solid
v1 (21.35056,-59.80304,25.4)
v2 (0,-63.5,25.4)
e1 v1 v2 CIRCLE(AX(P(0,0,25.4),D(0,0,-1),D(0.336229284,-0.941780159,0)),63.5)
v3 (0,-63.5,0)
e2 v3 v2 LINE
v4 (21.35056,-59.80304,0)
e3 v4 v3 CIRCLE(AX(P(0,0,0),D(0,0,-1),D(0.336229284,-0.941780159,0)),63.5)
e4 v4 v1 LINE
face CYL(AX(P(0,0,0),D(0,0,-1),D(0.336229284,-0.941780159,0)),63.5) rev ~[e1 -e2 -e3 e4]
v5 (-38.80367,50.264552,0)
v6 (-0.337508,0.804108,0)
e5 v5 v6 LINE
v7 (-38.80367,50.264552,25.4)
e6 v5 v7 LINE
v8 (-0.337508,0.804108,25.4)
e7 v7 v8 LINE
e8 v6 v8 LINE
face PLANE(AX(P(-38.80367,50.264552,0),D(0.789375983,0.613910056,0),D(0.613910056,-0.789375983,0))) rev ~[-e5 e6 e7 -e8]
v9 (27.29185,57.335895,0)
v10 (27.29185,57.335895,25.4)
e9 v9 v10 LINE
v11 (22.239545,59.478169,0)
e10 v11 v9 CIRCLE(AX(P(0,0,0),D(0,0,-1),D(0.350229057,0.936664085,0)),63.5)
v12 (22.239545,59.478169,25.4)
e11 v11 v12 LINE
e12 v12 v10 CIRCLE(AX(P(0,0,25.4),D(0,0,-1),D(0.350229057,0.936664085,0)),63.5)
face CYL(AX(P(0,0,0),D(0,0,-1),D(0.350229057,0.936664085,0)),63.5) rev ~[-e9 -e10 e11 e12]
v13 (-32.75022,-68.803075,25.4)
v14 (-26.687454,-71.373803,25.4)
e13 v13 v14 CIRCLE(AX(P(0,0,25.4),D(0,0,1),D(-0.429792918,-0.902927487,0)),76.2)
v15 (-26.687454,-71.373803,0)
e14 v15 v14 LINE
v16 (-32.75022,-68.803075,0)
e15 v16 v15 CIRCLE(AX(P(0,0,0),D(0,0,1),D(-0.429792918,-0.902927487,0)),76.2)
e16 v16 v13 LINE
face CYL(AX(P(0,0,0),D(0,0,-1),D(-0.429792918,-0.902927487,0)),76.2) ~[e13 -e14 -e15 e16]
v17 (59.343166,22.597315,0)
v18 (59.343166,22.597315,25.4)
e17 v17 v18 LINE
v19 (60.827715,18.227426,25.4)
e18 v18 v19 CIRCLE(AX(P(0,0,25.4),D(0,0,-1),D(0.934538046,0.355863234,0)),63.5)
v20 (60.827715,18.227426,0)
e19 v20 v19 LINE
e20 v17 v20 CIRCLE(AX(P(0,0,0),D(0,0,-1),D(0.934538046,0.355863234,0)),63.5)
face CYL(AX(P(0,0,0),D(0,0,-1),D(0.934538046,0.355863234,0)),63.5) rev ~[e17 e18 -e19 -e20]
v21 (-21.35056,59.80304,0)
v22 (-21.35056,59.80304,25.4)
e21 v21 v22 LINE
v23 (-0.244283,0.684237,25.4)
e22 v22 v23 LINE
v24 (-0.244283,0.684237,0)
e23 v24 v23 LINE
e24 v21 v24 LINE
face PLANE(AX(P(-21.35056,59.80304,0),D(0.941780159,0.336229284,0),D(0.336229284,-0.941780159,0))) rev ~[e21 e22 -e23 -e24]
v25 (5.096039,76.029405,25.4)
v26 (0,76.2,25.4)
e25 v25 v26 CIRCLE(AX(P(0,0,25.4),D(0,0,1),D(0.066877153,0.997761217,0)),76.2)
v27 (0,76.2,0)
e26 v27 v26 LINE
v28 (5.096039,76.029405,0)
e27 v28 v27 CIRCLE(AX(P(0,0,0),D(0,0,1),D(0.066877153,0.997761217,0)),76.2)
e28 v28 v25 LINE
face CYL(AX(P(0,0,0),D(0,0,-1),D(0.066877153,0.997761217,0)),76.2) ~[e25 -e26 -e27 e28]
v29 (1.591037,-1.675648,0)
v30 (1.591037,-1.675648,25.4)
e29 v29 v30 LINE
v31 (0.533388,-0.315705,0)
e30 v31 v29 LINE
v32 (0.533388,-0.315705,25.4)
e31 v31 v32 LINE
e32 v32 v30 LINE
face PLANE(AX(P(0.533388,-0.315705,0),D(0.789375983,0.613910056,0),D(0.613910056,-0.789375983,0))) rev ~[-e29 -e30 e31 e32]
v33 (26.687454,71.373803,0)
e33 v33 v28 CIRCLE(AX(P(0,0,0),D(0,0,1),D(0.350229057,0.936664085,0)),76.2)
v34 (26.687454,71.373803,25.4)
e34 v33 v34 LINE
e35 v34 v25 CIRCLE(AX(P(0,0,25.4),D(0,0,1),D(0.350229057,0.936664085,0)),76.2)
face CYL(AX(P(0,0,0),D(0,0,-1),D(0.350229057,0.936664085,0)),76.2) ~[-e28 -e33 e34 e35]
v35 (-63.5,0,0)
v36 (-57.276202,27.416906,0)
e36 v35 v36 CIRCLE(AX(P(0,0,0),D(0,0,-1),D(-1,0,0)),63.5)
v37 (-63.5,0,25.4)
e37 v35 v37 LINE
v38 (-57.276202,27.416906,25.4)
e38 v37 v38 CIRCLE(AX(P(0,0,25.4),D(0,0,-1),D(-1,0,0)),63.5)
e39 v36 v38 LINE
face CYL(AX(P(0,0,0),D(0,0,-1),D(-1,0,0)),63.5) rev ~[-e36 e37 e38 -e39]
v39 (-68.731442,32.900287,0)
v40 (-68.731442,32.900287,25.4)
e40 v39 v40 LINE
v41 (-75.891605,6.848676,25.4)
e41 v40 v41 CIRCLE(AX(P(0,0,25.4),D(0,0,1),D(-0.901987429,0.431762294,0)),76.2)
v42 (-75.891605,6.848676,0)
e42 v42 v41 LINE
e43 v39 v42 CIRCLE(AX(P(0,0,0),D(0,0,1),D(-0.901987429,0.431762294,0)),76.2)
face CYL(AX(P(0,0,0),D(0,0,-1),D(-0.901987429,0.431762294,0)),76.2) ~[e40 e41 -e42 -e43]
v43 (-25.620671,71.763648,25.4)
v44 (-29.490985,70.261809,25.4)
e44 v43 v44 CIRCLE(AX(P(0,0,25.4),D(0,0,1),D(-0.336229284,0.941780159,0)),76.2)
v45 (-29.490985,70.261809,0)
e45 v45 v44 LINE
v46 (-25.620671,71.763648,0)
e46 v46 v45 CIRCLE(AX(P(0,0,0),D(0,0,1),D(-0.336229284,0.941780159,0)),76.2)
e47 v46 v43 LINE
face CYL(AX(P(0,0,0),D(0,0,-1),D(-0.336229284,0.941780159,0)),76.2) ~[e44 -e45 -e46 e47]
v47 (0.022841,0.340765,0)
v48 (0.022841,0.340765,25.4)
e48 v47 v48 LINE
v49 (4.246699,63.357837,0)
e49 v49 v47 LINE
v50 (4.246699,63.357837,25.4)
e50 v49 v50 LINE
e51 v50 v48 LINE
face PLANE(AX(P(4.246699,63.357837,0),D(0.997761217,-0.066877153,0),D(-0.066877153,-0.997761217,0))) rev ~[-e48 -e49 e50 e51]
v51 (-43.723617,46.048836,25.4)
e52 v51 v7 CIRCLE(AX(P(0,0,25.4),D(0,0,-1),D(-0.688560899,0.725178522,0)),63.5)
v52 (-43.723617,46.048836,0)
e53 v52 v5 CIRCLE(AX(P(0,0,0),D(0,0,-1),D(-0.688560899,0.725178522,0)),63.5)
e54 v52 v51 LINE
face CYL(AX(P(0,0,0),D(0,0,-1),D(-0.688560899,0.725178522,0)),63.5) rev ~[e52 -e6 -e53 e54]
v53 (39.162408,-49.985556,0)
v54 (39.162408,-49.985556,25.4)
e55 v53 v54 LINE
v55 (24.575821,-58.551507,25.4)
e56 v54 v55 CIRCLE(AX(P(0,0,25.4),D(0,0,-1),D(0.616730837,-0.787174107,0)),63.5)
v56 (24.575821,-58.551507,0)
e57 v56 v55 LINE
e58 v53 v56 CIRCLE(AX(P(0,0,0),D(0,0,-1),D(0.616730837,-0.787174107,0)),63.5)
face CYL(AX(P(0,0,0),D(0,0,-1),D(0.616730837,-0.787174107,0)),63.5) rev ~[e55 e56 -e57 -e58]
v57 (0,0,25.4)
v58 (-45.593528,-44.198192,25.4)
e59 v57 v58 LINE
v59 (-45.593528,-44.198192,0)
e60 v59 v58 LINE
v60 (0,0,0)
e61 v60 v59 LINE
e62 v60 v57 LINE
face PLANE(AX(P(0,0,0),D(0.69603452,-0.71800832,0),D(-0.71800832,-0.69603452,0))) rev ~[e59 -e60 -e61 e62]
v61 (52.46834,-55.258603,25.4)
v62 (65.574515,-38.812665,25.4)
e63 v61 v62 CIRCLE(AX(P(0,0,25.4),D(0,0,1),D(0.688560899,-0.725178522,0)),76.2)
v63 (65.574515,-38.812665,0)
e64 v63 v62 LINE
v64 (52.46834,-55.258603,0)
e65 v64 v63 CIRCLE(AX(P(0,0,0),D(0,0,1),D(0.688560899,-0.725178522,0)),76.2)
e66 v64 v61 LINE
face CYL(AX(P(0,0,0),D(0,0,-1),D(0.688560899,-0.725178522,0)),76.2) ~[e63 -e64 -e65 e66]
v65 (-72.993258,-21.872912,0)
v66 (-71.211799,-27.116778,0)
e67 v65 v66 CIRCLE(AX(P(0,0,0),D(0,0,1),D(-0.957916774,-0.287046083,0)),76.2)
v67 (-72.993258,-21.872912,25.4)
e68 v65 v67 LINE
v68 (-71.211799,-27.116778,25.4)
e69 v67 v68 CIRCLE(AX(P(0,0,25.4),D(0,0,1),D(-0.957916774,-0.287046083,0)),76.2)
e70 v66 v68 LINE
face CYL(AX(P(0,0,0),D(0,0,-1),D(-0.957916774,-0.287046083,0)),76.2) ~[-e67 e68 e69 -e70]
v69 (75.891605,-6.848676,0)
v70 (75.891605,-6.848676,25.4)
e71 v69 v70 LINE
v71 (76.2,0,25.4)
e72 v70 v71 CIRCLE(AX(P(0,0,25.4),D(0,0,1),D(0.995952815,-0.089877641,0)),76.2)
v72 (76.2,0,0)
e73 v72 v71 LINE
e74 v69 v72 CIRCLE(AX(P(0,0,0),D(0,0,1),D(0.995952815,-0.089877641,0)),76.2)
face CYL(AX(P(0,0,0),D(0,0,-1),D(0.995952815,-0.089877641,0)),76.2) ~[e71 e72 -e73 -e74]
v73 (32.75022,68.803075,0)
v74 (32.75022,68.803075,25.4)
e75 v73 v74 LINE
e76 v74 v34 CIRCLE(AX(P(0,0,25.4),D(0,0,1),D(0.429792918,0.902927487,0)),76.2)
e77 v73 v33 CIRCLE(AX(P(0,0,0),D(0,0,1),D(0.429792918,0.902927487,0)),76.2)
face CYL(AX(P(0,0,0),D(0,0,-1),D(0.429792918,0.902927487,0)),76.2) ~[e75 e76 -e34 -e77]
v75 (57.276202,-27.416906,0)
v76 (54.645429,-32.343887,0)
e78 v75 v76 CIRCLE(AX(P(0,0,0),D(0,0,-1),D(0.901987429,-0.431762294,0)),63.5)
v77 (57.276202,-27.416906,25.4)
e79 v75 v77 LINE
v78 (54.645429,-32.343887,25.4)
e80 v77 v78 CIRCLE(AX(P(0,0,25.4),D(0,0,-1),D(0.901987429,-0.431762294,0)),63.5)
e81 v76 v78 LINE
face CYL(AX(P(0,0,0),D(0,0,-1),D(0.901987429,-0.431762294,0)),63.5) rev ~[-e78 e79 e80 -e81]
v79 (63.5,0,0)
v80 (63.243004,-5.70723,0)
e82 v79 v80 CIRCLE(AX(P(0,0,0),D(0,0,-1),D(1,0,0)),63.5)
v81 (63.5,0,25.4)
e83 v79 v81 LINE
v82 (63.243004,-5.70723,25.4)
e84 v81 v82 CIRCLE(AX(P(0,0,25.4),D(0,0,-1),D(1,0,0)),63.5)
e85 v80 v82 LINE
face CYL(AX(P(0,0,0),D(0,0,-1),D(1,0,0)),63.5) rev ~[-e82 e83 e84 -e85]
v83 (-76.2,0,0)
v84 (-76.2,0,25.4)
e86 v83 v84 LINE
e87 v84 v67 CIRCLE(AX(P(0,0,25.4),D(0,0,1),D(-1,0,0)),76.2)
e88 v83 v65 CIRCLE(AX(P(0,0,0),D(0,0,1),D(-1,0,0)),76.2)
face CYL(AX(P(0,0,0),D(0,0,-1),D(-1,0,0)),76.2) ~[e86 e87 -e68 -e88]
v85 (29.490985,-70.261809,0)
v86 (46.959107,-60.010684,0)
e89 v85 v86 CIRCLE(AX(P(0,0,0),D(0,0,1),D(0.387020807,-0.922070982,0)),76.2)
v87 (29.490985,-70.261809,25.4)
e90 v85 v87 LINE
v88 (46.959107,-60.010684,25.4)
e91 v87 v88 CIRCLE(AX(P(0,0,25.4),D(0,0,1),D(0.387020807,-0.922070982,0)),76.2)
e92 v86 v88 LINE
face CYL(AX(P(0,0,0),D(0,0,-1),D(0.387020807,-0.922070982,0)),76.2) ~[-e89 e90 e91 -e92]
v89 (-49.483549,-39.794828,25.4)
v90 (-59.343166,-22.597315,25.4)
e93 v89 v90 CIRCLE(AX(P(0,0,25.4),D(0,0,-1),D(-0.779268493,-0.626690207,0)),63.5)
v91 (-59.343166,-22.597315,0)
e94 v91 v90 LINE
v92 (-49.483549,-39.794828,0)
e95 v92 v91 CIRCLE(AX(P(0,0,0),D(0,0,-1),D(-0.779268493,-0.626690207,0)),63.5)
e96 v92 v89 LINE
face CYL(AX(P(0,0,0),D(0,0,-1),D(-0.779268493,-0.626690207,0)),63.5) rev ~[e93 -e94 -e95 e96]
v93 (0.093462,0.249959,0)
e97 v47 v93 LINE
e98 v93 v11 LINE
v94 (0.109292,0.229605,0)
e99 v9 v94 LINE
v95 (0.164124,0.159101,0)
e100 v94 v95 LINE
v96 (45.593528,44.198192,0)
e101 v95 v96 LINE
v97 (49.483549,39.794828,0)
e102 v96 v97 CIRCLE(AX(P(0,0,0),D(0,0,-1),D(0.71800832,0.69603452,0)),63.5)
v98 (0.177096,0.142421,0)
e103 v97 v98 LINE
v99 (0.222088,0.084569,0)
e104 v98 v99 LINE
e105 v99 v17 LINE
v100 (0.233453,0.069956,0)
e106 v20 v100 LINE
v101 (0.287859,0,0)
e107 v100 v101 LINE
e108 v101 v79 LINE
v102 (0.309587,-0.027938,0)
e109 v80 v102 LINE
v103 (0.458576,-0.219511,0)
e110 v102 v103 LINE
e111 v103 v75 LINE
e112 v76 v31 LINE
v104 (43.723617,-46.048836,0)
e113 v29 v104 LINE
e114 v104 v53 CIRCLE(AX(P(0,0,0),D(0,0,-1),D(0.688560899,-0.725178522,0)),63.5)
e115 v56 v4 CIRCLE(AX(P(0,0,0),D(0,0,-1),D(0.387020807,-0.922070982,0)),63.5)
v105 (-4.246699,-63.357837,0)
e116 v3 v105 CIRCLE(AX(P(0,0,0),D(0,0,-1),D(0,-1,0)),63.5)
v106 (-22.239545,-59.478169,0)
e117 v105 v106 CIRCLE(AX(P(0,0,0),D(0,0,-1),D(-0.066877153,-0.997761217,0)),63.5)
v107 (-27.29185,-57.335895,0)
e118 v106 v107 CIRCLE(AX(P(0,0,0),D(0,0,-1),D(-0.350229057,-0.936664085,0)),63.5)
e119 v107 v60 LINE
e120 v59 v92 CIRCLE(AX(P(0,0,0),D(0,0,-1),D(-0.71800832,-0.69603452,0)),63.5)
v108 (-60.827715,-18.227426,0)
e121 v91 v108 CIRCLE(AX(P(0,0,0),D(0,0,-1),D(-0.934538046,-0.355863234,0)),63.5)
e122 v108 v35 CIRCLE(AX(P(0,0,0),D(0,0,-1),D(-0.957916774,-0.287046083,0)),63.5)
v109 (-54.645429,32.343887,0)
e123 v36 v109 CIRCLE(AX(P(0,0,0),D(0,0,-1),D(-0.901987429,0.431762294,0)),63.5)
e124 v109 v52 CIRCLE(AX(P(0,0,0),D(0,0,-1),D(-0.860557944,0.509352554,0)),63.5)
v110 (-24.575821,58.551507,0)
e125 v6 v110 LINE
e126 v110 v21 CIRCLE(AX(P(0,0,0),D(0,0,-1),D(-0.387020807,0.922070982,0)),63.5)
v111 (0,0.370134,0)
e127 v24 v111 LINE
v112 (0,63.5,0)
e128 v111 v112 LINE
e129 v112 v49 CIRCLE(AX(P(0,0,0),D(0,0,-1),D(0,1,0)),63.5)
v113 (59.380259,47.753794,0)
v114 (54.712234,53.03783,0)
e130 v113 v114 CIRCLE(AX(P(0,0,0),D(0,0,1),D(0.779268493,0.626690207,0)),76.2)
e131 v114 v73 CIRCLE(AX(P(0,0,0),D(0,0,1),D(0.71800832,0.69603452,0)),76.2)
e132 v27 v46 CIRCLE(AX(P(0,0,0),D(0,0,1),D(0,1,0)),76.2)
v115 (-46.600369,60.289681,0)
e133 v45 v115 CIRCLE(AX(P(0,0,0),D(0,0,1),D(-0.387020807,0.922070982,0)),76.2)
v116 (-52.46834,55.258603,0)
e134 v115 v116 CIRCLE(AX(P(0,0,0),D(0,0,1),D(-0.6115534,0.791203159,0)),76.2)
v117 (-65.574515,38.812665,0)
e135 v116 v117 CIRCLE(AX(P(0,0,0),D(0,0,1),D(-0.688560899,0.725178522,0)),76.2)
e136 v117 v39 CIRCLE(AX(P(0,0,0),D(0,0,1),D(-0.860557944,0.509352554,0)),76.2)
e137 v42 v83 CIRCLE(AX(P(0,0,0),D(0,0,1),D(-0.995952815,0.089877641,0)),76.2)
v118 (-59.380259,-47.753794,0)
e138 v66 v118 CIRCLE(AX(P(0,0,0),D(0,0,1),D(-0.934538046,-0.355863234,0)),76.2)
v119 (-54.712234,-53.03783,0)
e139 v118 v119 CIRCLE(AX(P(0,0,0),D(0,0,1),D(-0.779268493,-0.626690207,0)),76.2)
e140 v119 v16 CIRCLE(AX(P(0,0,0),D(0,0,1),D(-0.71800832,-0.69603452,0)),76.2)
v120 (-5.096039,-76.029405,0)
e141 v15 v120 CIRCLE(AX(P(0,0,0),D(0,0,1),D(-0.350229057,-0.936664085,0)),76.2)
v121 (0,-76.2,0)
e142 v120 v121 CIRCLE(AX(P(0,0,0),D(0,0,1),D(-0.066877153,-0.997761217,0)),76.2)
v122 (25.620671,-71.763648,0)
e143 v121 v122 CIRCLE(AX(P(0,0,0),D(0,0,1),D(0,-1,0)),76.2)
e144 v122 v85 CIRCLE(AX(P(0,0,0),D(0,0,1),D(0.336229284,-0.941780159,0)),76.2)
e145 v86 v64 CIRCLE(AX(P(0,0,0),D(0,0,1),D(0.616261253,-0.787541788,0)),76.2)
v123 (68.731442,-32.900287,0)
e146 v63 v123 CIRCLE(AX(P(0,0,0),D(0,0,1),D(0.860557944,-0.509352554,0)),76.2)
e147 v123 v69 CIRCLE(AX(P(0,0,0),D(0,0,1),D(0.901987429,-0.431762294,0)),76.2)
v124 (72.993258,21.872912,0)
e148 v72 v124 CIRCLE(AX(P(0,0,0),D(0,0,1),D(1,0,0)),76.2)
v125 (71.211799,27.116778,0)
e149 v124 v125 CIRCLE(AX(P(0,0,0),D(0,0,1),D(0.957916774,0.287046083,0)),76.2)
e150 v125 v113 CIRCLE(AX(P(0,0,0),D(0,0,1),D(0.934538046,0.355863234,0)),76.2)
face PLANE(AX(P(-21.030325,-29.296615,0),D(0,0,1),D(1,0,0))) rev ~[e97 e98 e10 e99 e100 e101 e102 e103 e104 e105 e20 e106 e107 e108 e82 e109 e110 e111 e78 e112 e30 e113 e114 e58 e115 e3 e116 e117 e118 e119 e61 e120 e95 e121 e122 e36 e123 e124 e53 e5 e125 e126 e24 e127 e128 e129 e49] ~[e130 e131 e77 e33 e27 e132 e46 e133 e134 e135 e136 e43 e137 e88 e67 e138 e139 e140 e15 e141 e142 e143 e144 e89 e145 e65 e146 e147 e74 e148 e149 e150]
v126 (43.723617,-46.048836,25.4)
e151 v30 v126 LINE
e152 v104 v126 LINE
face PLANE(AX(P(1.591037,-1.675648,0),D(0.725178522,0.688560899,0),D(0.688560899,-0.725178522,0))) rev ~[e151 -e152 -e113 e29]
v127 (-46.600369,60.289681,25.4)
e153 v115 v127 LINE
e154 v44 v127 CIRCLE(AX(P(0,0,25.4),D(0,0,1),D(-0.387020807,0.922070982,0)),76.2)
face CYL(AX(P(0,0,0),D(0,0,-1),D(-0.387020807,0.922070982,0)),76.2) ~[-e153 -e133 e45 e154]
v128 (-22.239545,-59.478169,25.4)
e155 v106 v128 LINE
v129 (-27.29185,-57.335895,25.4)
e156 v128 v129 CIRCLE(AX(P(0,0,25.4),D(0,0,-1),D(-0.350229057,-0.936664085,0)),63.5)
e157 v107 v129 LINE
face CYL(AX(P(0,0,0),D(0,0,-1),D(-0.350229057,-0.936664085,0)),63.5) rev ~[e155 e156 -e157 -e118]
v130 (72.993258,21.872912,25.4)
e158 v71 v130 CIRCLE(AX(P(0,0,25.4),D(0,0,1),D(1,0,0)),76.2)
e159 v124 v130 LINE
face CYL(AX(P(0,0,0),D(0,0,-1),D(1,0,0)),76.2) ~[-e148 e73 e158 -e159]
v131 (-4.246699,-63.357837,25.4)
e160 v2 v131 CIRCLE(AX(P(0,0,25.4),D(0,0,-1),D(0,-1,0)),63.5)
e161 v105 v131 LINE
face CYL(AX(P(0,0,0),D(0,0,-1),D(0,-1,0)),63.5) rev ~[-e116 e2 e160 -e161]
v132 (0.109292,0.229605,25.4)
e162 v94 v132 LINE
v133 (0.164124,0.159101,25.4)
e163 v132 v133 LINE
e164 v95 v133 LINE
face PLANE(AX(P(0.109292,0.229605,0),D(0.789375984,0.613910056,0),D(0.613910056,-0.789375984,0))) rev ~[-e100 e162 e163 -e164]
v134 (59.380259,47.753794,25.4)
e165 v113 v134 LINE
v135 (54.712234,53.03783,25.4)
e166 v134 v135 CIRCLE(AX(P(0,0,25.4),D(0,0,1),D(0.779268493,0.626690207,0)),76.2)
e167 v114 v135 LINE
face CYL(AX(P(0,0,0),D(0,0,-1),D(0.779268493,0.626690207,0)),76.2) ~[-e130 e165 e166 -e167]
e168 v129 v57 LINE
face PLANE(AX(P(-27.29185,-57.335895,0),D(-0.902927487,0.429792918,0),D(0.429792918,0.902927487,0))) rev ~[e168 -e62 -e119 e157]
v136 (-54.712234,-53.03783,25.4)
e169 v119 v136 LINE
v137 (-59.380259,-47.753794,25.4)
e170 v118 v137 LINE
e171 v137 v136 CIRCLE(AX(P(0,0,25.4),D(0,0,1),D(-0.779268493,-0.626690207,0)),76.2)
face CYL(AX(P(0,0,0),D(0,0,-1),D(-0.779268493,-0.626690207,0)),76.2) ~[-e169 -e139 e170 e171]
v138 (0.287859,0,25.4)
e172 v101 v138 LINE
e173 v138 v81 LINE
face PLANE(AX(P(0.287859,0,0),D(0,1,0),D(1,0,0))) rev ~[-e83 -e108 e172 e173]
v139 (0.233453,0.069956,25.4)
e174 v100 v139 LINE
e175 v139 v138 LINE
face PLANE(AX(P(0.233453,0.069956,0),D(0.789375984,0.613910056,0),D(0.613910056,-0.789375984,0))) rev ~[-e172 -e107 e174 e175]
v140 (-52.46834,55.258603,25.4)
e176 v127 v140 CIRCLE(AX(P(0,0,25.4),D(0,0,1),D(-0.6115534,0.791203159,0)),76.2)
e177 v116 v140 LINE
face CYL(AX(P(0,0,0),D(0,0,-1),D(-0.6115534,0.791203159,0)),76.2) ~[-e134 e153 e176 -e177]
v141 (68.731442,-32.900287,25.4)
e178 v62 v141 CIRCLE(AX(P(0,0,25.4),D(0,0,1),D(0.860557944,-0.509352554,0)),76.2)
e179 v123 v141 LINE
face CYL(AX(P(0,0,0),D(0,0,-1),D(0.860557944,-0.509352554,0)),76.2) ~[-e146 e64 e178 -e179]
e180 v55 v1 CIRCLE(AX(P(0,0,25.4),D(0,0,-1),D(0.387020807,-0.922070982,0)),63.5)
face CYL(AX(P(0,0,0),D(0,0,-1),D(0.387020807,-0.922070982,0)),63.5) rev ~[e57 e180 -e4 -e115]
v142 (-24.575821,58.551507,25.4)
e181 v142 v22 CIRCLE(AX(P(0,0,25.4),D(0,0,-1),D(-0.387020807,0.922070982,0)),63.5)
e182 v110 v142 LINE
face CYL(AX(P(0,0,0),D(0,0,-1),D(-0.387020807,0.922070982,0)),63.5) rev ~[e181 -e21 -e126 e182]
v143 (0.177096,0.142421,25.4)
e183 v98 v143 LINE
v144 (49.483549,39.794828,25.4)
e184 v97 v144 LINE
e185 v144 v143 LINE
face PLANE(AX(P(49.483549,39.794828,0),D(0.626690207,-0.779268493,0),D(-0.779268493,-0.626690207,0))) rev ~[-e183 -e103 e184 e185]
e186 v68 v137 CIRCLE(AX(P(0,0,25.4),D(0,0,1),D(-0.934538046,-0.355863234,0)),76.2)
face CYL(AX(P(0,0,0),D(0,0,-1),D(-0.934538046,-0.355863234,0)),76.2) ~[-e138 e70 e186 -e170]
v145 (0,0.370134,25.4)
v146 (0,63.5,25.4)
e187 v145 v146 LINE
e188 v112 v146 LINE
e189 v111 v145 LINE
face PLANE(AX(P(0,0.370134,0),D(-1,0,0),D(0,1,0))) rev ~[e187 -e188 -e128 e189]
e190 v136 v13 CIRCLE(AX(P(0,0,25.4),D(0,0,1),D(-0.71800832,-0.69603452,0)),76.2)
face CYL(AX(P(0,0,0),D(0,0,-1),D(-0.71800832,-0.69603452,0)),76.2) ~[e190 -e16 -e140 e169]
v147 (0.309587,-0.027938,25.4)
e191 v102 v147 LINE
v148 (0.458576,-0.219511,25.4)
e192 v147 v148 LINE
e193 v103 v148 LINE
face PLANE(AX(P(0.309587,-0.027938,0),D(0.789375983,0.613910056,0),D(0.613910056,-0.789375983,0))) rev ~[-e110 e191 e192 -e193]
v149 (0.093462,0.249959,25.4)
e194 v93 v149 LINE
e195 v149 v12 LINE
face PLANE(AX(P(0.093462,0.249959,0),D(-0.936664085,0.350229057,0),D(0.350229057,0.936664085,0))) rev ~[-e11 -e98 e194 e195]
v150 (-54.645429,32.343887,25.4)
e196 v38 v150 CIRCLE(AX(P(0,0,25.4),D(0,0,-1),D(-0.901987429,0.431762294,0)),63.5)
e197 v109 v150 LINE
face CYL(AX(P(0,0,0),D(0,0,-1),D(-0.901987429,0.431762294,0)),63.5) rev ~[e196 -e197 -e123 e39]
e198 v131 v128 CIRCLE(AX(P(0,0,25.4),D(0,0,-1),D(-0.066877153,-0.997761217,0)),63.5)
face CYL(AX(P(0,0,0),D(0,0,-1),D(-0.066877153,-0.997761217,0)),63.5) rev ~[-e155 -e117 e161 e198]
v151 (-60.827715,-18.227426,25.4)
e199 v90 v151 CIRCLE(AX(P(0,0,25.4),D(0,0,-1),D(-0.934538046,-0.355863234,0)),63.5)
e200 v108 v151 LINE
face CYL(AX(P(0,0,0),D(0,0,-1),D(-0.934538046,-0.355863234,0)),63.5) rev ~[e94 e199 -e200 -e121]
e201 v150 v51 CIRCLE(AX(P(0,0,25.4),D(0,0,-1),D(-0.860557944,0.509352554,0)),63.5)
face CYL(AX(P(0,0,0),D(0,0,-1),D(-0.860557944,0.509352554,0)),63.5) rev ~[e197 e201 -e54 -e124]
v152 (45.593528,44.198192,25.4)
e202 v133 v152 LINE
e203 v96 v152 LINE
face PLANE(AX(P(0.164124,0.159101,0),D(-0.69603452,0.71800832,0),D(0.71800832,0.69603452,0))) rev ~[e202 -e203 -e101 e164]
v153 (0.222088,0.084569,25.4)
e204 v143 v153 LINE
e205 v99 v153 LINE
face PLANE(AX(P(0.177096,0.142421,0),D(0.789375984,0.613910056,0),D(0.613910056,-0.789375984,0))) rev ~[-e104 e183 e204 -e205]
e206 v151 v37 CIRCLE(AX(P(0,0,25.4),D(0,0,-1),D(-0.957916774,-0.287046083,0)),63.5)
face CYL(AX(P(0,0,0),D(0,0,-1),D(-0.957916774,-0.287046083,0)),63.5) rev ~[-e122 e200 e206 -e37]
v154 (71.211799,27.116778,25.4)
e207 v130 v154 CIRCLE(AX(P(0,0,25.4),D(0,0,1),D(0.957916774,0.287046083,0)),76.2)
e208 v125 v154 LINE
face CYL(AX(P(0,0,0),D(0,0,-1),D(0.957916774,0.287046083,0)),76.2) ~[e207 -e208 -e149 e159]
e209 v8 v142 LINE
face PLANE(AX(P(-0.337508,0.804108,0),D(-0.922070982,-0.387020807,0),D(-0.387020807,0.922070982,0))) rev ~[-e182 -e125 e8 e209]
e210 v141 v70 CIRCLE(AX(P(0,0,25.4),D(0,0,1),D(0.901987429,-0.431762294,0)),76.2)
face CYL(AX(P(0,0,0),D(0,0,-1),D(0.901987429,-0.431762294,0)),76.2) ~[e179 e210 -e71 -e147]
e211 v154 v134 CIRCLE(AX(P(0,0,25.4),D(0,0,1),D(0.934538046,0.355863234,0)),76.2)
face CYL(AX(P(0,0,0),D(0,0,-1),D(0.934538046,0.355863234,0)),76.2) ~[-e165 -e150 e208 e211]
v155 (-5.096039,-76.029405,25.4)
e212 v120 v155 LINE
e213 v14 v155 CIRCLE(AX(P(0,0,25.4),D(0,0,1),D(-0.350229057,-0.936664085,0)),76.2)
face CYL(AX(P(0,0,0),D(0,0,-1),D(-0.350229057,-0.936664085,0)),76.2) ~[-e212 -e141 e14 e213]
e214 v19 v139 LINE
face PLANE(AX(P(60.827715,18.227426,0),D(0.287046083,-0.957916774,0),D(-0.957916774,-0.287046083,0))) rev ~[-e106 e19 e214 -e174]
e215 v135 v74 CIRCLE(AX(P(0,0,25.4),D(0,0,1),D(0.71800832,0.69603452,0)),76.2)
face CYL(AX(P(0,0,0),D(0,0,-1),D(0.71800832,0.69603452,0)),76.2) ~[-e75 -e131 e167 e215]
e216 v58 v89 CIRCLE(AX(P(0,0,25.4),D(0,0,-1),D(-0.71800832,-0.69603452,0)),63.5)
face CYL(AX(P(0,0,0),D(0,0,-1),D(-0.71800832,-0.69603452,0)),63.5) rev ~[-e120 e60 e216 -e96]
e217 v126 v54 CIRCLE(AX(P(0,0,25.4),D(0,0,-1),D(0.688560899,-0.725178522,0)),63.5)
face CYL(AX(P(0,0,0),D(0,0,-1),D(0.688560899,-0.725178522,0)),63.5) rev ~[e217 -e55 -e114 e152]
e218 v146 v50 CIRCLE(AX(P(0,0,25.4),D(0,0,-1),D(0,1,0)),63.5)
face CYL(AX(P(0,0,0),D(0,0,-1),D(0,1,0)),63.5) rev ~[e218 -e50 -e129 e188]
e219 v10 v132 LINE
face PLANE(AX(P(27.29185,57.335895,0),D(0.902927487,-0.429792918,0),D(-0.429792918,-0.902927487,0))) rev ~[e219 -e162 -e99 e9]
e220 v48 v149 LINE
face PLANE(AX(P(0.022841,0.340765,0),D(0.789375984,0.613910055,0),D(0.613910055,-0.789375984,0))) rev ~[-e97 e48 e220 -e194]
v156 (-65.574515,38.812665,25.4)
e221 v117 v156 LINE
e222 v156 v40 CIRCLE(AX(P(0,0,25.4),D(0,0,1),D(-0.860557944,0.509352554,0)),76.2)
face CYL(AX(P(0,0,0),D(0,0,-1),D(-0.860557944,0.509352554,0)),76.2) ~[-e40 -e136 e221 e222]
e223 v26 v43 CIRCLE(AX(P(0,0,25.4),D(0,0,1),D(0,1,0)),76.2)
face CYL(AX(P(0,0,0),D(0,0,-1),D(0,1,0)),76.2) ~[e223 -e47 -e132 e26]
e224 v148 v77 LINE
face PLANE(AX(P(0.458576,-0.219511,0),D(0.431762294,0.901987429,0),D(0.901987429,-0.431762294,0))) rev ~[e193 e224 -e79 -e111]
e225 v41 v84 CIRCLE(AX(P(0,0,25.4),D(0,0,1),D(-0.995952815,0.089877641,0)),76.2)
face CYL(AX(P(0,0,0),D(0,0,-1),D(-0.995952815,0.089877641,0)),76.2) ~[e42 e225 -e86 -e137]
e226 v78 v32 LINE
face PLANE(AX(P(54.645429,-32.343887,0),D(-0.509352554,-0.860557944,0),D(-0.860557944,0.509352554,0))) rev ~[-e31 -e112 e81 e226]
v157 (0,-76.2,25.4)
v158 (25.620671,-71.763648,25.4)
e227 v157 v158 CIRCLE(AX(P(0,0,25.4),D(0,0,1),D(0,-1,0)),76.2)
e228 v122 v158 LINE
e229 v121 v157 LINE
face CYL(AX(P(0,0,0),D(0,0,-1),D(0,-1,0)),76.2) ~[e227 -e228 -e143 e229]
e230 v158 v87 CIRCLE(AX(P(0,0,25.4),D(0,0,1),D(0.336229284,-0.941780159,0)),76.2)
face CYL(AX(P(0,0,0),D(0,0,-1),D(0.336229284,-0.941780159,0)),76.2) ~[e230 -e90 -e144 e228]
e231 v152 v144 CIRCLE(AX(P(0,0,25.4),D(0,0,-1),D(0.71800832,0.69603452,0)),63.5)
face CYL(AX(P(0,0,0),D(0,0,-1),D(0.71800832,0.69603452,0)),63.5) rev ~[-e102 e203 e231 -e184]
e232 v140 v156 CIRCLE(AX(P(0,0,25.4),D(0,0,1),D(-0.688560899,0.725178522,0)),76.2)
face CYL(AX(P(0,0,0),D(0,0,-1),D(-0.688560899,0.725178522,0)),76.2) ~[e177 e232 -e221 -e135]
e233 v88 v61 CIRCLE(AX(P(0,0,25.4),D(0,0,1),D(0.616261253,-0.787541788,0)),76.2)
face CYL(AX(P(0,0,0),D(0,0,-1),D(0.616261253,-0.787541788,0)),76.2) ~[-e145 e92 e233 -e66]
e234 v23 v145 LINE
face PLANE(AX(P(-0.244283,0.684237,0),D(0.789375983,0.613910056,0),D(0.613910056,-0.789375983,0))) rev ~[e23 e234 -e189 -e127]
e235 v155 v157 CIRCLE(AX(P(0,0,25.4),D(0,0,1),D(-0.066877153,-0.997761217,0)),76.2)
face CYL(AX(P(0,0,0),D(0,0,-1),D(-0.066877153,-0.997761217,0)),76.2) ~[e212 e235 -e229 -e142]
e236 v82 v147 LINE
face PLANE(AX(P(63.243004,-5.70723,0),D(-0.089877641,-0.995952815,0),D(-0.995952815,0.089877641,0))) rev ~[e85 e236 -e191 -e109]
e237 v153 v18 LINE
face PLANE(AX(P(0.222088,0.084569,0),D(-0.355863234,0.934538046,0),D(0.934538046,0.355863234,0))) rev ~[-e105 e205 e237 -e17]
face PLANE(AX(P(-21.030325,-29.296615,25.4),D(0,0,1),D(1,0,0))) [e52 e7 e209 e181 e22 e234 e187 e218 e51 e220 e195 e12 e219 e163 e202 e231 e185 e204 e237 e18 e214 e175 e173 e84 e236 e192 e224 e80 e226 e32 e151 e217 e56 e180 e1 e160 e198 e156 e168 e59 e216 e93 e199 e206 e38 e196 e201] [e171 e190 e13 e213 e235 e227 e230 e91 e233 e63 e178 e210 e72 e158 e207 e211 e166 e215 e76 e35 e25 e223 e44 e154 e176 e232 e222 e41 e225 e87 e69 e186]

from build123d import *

# Parameters (mm, degrees)
F1_DEPTH = 25.4
F2_DEPTH = 25.4
F3_DEPTH = 25.4


with BuildPart() as f1:
    # F0 (on Top) → F1 (new body)
    with BuildSketch(Plane.XY):
        with BuildLine():
            ThreePointArc((-54.6454294548, 32.3438872076), (-49.6595784817, 39.574944915), (-43.7236170719, 46.0488361432))
            Line((-43.7236170719, 46.0488361432), (-52.4683404863, 55.2586033719))
            ThreePointArc((-52.4683404863, 55.2586033719), (-59.591494178, 47.489933898), (-65.5745153458, 38.8126646491))
            Line((-65.5745153458, 38.8126646491), (-54.6454294548, 32.3438872076))
        make_face()
        with BuildLine():
            Line((-52.4683404863, 55.2586033719), (-43.7236170719, 46.0488361432))
            ThreePointArc((-43.7236170719, 46.0488361432), (-41.3174458853, 48.2194842933), (-38.8036697839, 50.2645522342))
            Line((-38.8036697839, 50.2645522342), (-46.6003690954, 60.2896807105))
            ThreePointArc((-46.6003690954, 60.2896807105), (-49.5981878635, 57.8485934199), (-52.4683404863, 55.2586033719))
        make_face()
        with BuildLine():
            Line((-46.6003690954, 60.2896807105), (-38.8036697839, 50.2645522342))
            ThreePointArc((-38.8036697839, 50.2645522342), (-31.9594802346, 54.8711365212), (-24.5758212425, 58.5515073269))
            Line((-24.5758212425, 58.5515073269), (-29.490985491, 70.2618087923))
            ThreePointArc((-29.490985491, 70.2618087923), (-38.3710098293, 65.8339244211), (-46.6003690954, 60.2896807105))
        make_face()
        with BuildLine():
            Line((-29.490985491, 70.2618087923), (-24.5758212425, 58.5515073269))
            ThreePointArc((-24.5758212425, 58.5515073269), (-22.971715152, 59.1992424189), (-21.3505595618, 59.80304011))
            Line((-21.3505595618, 59.80304011), (-25.6206714742, 71.763648132))
            ThreePointArc((-25.6206714742, 71.763648132), (-27.5660581824, 71.0390909027), (-29.490985491, 70.2618087923))
        make_face()
        with BuildLine():
            ThreePointArc((-21.3505595618, 59.80304011), (-10.8341347835, 62.5689341726), (0, 63.5))
            Line((0, 63.5), (0, 76.2))
            ThreePointArc((0, 76.2), (-13.0009617403, 75.0827210071), (-25.6206714742, 71.763648132))
            Line((-25.6206714742, 71.763648132), (-21.3505595618, 59.80304011))
        make_face()
        with BuildLine():
            Line((0, 76.2), (0, 63.5))
            ThreePointArc((0, 63.5), (2.1245390247, 63.4644493708), (4.2466991927, 63.3578372892))
            Line((4.2466991927, 63.3578372892), (5.0960390312, 76.0294047471))
            ThreePointArc((5.0960390312, 76.0294047471), (2.5494468296, 76.1573392449), (0, 76.2))
        make_face()
        with BuildLine():
            ThreePointArc((4.2466991927, 63.3578372892), (13.3844402215, 62.0733981667), (22.2395451076, 59.4781693852))
            Line((22.2395451075, 59.4781693852), (26.6874541291, 71.3738032622))
            ThreePointArc((26.6874541291, 71.3738032622), (16.0613282658, 74.4880778), (5.0960390312, 76.0294047471))
            Line((5.0960390312, 76.0294047471), (4.2466991927, 63.3578372892))
        make_face()
        with BuildLine():
            Line((27.2918502922, 57.335895455), (32.7502203506, 68.803074546))
            ThreePointArc((32.7502203506, 68.803074546), (29.74662079, 70.1539631922), (26.6874541291, 71.3738032622))
            Line((26.6874541291, 71.3738032622), (22.2395451075, 59.4781693852))
            ThreePointArc((22.2395451076, 59.4781693852), (24.7888506583, 58.4616359935), (27.2918502922, 57.335895455))
        make_face()
        with BuildLine():
            Line((45.5935282898, 44.1981920229), (54.7122339477, 53.0378304275))
            ThreePointArc((54.7122339477, 53.0378304275), (44.4359759486, 61.9022135428), (32.7502203506, 68.803074546))
            Line((32.7502203506, 68.803074546), (27.2918502922, 57.335895455))
            ThreePointArc((27.2918502922, 57.335895455), (37.0299799571, 51.5851779523), (45.5935282898, 44.1981920229))
        make_face()
        with BuildLine():
            Line((49.4835493014, 39.7948281631), (59.3802591617, 47.7537937958))
            ThreePointArc((59.3802591617, 47.7537937958), (57.1073945016, 50.4498314491), (54.7122339477, 53.0378304275))
            Line((54.7122339477, 53.0378304275), (45.5935282898, 44.1981920229))
            ThreePointArc((45.5935282898, 44.1981920229), (47.589495418, 42.0415262075), (49.4835493014, 39.7948281631))
        make_face()
        with BuildLine():
            Line((59.3431659035, 22.5973153393), (71.2117990842, 27.1167784072))
            ThreePointArc((71.2117990842, 27.1167784072), (66.106300912, 37.8998282283), (59.3802591617, 47.7537937958))
            Line((59.3802591617, 47.7537937958), (49.4835493014, 39.7948281631))
            ThreePointArc((49.4835493014, 39.7948281631), (55.0885840933, 31.5831901902), (59.3431659035, 22.5973153393))
        make_face()
        with BuildLine():
            Line((60.8277151615, 18.2274262647), (72.9932581938, 21.8729115177))
            ThreePointArc((72.9932581938, 21.8729115177), (72.1501848309, 24.5110348389), (71.2117990842, 27.1167784072))
            Line((71.2117990842, 27.1167784072), (59.3431659035, 22.5973153393))
            ThreePointArc((59.3431659035, 22.5973153393), (60.1251540257, 20.4258623657), (60.8277151615, 18.2274262647))
        make_face()
        with BuildLine():
            ThreePointArc((-60.8277151615, -18.2274262647), (-62.8283769994, -9.2111369344), (-63.5, 0))
            Line((-63.5, 0), (-76.2, 0))
            ThreePointArc((-76.2, 0), (-75.3940523993, -11.0533643212), (-72.9932581938, -21.8729115177))
            Line((-72.9932581938, -21.8729115177), (-60.8277151615, -18.2274262647))
        make_face()
        with BuildLine():
            Line((-76.2, 0), (-63.5, 0))
            ThreePointArc((-63.5, 0), (-63.4357184014, 2.8565067652), (-63.2430037512, 5.7072301974))
            Line((-63.2430037512, 5.7072301974), (-75.8916045014, 6.8486762369))
            ThreePointArc((-75.8916045014, 6.8486762369), (-76.1228620817, 3.4278081182), (-76.2, 0))
        make_face()
        with BuildLine():
            ThreePointArc((68.7314420597, -32.9002868133), (73.4753564303, -20.1943555836), (75.8916045014, -6.8486762369))
            Line((75.8916045014, -6.8486762369), (63.2430037512, -5.7072301974))
            ThreePointArc((63.2430037512, -5.7072301974), (61.2294636919, -16.828629653), (57.2762017164, -27.4169056777))
            Line((57.2762017164, -27.4169056777), (68.7314420597, -32.9002868133))
        make_face()
        with BuildLine():
            ThreePointArc((65.5745153458, -38.8126646491), (67.218015454, -35.8912022428), (68.7314420597, -32.9002868133))
            Line((68.7314420597, -32.9002868133), (57.2762017164, -27.4169056777))
            ThreePointArc((57.2762017164, -27.4169056777), (56.0150128783, -29.9093352023), (54.6454294548, -32.3438872076))
            Line((54.6454294548, -32.3438872076), (65.5745153458, -38.8126646491))
        make_face()
        with BuildLine():
            ThreePointArc((52.4683404863, -55.2586033719), (59.591494178, -47.489933898), (65.5745153458, -38.8126646491))
            Line((65.5745153458, -38.8126646491), (54.6454294548, -32.3438872076))
            ThreePointArc((54.6454294548, -32.3438872076), (49.6595784817, -39.574944915), (43.7236170719, -46.0488361432))
            Line((43.7236170719, -46.0488361432), (52.4683404863, -55.2586033719))
        make_face()
        with BuildLine():
            ThreePointArc((46.9591074707, -60.0106842617), (49.7704723708, -57.7004339671), (52.4683404863, -55.2586033719))
            Line((52.4683404863, -55.2586033719), (43.7236170719, -46.0488361432))
            ThreePointArc((43.7236170719, -46.0488361432), (41.4897304768, -48.0713247681), (39.1624081592, -49.9855557853))
            Line((39.1624081592, -49.9855557854), (46.9591074707, -60.0106842617))
        make_face()
        with BuildLine():
            ThreePointArc((39.1624081592, -49.9855557853), (32.1556270856, -54.7564210548), (24.5758212425, -58.5515073269))
            Line((24.5758212425, -58.5515073269), (29.490985491, -70.2618087923))
            ThreePointArc((29.490985491, -70.2618087923), (38.5671565843, -65.7192090108), (46.9591074707, -60.0106842617))
            Line((46.9591074707, -60.0106842617), (39.1624081592, -49.9855557854))
        make_face()
        with BuildLine():
            Line((29.490985491, -70.2618087923), (24.5758212425, -58.5515073269))
            ThreePointArc((24.5758212425, -58.5515073269), (22.971715152, -59.1992424189), (21.3505595618, -59.80304011))
            Line((21.3505595618, -59.80304011), (25.6206714742, -71.763648132))
            ThreePointArc((25.6206714742, -71.763648132), (27.5660581824, -71.0390909027), (29.490985491, -70.2618087923))
        make_face()
        with BuildLine():
            ThreePointArc((21.3505595618, -59.80304011), (10.8341347835, -62.5689341726), (0, -63.5))
            Line((0, -63.5), (0, -76.2))
            ThreePointArc((0, -76.2), (13.0009617403, -75.0827210071), (25.6206714742, -71.763648132))
            Line((25.6206714742, -71.763648132), (21.3505595618, -59.80304011))
        make_face()
        with BuildLine():
            Line((0, -76.2), (0, -63.5))
            ThreePointArc((0, -63.5), (-2.1245390247, -63.4644493708), (-4.2466991927, -63.3578372892))
            Line((-4.2466991927, -63.3578372892), (-5.0960390312, -76.0294047471))
            ThreePointArc((-5.0960390312, -76.0294047471), (-2.5494468296, -76.1573392449), (0, -76.2))
        make_face()
        with BuildLine():
            ThreePointArc((-4.2466991927, -63.3578372892), (-13.3844402215, -62.0733981667), (-22.2395451076, -59.4781693852))
            Line((-22.2395451075, -59.4781693852), (-26.6874541291, -71.3738032622))
            ThreePointArc((-26.6874541291, -71.3738032622), (-16.0613282658, -74.4880778), (-5.0960390312, -76.0294047471))
            Line((-5.0960390312, -76.0294047471), (-4.2466991927, -63.3578372892))
        make_face()
        with BuildLine():
            Line((-26.6874541291, -71.3738032622), (-22.2395451075, -59.4781693852))
            ThreePointArc((-22.2395451076, -59.4781693852), (-24.7888506583, -58.4616359935), (-27.2918502922, -57.335895455))
            Line((-27.2918502922, -57.335895455), (-32.7502203506, -68.803074546))
            ThreePointArc((-32.7502203506, -68.803074546), (-29.74662079, -70.1539631922), (-26.6874541291, -71.3738032622))
        make_face()
        with BuildLine():
            ThreePointArc((-27.2918502922, -57.335895455), (-37.0299799571, -51.5851779523), (-45.5935282898, -44.1981920229))
            Line((-45.5935282898, -44.1981920229), (-54.7122339477, -53.0378304275))
            ThreePointArc((-54.7122339477, -53.0378304275), (-44.4359759486, -61.9022135428), (-32.7502203506, -68.803074546))
            Line((-32.7502203506, -68.803074546), (-27.2918502922, -57.335895455))
        make_face()
        with BuildLine():
            ThreePointArc((-49.4835493014, -39.7948281631), (-55.0885840933, -31.5831901902), (-59.3431659035, -22.5973153393))
            Line((-59.3431659035, -22.5973153393), (-71.2117990842, -27.1167784072))
            ThreePointArc((-71.2117990842, -27.1167784072), (-66.106300912, -37.8998282283), (-59.3802591617, -47.7537937958))
            Line((-59.3802591617, -47.7537937958), (-49.4835493014, -39.7948281631))
        make_face()
        with BuildLine():
            Line((63.5, 0), (76.2, 0))
            ThreePointArc((76.2, 0), (75.3940523993, 11.0533643212), (72.9932581938, 21.8729115177))
            Line((72.9932581938, 21.8729115177), (60.8277151615, 18.2274262647))
            ThreePointArc((60.8277151615, 18.2274262647), (62.8283769994, 9.2111369344), (63.5, 0))
        make_face()
        with BuildLine():
            ThreePointArc((-63.2430037512, 5.7072301974), (-61.2294636919, 16.828629653), (-57.2762017164, 27.4169056777))
            Line((-57.2762017164, 27.4169056777), (-68.7314420597, 32.9002868133))
            ThreePointArc((-68.7314420597, 32.9002868133), (-73.4753564303, 20.1943555836), (-75.8916045014, 6.8486762369))
            Line((-75.8916045014, 6.8486762369), (-63.2430037512, 5.7072301974))
        make_face()
        with BuildLine():
            Line((-54.7122339477, -53.0378304275), (-45.5935282898, -44.1981920229))
            ThreePointArc((-45.5935282898, -44.1981920229), (-47.589495418, -42.0415262075), (-49.4835493014, -39.7948281631))
            Line((-49.4835493014, -39.7948281631), (-59.3802591617, -47.7537937958))
            ThreePointArc((-59.3802591617, -47.7537937958), (-57.1073945016, -50.4498314491), (-54.7122339477, -53.0378304275))
        make_face()
        with BuildLine():
            Line((-71.2117990842, -27.1167784072), (-59.3431659035, -22.5973153393))
            ThreePointArc((-59.3431659035, -22.5973153393), (-60.1251540257, -20.4258623657), (-60.8277151615, -18.2274262647))
            Line((-60.8277151615, -18.2274262647), (-72.9932581938, -21.8729115177))
            ThreePointArc((-72.9932581938, -21.8729115177), (-72.1501848309, -24.5110348389), (-71.2117990842, -27.1167784072))
        make_face()
        with BuildLine():
            ThreePointArc((75.8916045014, -6.8486762369), (76.1228620817, -3.4278081182), (76.2, 0))
            Line((76.2, 0), (63.5, 0))
            ThreePointArc((63.5, 0), (63.4357184014, -2.8565067652), (63.2430037512, -5.7072301974))
            Line((63.2430037512, -5.7072301974), (75.8916045014, -6.8486762369))
        make_face()
        with BuildLine():
            Line((-68.7314420597, 32.9002868133), (-57.2762017164, 27.4169056777))
            ThreePointArc((-57.2762017164, 27.4169056777), (-56.0150128783, 29.9093352023), (-54.6454294548, 32.3438872076))
            Line((-54.6454294548, 32.3438872076), (-65.5745153458, 38.8126646491))
            ThreePointArc((-65.5745153458, 38.8126646491), (-67.218015454, 35.8912022428), (-68.7314420597, 32.9002868133))
        make_face()
    extrude(amount=F1_DEPTH)

    # F0 (on Top) → F2 (join)
    with BuildSketch(Plane.XY):
        with BuildLine():
            Line((-38.8036697839, 50.2645522342), (-0.3375081808, 0.8041079289))
            Line((-0.3375081808, 0.8041079289), (-24.5758212425, 58.5515073269))
            ThreePointArc((-24.5758212425, 58.5515073269), (-31.9594802346, 54.8711365212), (-38.8036697839, 50.2645522342))
        make_face()
        with BuildLine():
            Line((-0.2442825508, 0.6842368296), (0, 0.3701341743))
            Line((0, 0.3701341743), (0, 63.5))
            ThreePointArc((0, 63.5), (-10.8341347835, 62.5689341726), (-21.3505595618, 59.80304011))
            Line((-21.3505595618, 59.80304011), (-0.2442825508, 0.6842368296))
        make_face()
        with BuildLine():
            Line((0.0228405548, 0.3407654008), (0.0934623297, 0.2499587223))
            Line((0.0934623297, 0.2499587223), (22.2395451075, 59.4781693852))
            ThreePointArc((22.2395451076, 59.4781693852), (13.3844402215, 62.0733981667), (4.2466991927, 63.3578372892))
            Line((4.2466991927, 63.3578372892), (0.0228405548, 0.3407654008))
        make_face()
        with BuildLine():
            Line((0.1092917989, 0.2296049219), (0.1641238083, 0.1591009923))
            Line((0.1641238083, 0.1591009923), (45.5935282898, 44.1981920229))
            ThreePointArc((45.5935282898, 44.1981920229), (37.0299799571, 51.5851779523), (27.2918502922, 57.335895455))
            Line((27.2918502922, 57.335895455), (0.1092917989, 0.2296049219))
        make_face()
        with BuildLine():
            Line((0.222088386, 0.0845691532), (59.3431659035, 22.5973153393))
            ThreePointArc((59.3431659035, 22.5973153393), (55.0885840933, 31.5831901902), (49.4835493014, 39.7948281631))
            Line((49.4835493014, 39.7948281631), (0.1770959808, 0.1424211525))
            Line((0.1770959808, 0.1424211525), (0.222088386, 0.0845691532))
        make_face()
        with BuildLine():
            Line((0.28785914, 0), (63.5, 0))
            ThreePointArc((63.5, 0), (62.8283769994, 9.2111369344), (60.8277151615, 18.2274262647))
            Line((60.8277151615, 18.2274262647), (0.2334533831, 0.0699558469))
            Line((0.2334533831, 0.0699558469), (0.28785914, 0))
        make_face()
        with BuildLine():
            ThreePointArc((57.2762017164, -27.4169056777), (61.2294636919, -16.828629653), (63.2430037512, -5.7072301974))
            Line((63.2430037512, -5.7072301974), (0.3095869732, -0.0279380171))
            Line((0.3095869732, -0.0279380171), (0.4585759838, -0.219510619))
            Line((0.4585759838, -0.219510619), (57.2762017164, -27.4169056777))
        make_face()
        with BuildLine():
            ThreePointArc((43.7236170719, -46.0488361432), (49.6595784817, -39.574944915), (54.6454294548, -32.3438872076))
            Line((54.6454294548, -32.3438872076), (0.5333878977, -0.3157050493))
            Line((0.5333878977, -0.3157050493), (1.5910370144, -1.6756482579))
            Line((1.5910370144, -1.6756482579), (43.7236170719, -46.0488361432))
        make_face()
    extrude(amount=F2_DEPTH)

    # F0 (on Top) → F3 (join)
    with BuildSketch(Plane.XY):
        with BuildLine():
            Line((-27.2918502922, -57.335895455), (0, 0))
            Line((0, 0), (-45.5935282898, -44.1981920229))
            ThreePointArc((-45.5935282898, -44.1981920229), (-37.0299799571, -51.5851779523), (-27.2918502922, -57.335895455))
        make_face()
    extrude(amount=F3_DEPTH)


solid = f1.part
